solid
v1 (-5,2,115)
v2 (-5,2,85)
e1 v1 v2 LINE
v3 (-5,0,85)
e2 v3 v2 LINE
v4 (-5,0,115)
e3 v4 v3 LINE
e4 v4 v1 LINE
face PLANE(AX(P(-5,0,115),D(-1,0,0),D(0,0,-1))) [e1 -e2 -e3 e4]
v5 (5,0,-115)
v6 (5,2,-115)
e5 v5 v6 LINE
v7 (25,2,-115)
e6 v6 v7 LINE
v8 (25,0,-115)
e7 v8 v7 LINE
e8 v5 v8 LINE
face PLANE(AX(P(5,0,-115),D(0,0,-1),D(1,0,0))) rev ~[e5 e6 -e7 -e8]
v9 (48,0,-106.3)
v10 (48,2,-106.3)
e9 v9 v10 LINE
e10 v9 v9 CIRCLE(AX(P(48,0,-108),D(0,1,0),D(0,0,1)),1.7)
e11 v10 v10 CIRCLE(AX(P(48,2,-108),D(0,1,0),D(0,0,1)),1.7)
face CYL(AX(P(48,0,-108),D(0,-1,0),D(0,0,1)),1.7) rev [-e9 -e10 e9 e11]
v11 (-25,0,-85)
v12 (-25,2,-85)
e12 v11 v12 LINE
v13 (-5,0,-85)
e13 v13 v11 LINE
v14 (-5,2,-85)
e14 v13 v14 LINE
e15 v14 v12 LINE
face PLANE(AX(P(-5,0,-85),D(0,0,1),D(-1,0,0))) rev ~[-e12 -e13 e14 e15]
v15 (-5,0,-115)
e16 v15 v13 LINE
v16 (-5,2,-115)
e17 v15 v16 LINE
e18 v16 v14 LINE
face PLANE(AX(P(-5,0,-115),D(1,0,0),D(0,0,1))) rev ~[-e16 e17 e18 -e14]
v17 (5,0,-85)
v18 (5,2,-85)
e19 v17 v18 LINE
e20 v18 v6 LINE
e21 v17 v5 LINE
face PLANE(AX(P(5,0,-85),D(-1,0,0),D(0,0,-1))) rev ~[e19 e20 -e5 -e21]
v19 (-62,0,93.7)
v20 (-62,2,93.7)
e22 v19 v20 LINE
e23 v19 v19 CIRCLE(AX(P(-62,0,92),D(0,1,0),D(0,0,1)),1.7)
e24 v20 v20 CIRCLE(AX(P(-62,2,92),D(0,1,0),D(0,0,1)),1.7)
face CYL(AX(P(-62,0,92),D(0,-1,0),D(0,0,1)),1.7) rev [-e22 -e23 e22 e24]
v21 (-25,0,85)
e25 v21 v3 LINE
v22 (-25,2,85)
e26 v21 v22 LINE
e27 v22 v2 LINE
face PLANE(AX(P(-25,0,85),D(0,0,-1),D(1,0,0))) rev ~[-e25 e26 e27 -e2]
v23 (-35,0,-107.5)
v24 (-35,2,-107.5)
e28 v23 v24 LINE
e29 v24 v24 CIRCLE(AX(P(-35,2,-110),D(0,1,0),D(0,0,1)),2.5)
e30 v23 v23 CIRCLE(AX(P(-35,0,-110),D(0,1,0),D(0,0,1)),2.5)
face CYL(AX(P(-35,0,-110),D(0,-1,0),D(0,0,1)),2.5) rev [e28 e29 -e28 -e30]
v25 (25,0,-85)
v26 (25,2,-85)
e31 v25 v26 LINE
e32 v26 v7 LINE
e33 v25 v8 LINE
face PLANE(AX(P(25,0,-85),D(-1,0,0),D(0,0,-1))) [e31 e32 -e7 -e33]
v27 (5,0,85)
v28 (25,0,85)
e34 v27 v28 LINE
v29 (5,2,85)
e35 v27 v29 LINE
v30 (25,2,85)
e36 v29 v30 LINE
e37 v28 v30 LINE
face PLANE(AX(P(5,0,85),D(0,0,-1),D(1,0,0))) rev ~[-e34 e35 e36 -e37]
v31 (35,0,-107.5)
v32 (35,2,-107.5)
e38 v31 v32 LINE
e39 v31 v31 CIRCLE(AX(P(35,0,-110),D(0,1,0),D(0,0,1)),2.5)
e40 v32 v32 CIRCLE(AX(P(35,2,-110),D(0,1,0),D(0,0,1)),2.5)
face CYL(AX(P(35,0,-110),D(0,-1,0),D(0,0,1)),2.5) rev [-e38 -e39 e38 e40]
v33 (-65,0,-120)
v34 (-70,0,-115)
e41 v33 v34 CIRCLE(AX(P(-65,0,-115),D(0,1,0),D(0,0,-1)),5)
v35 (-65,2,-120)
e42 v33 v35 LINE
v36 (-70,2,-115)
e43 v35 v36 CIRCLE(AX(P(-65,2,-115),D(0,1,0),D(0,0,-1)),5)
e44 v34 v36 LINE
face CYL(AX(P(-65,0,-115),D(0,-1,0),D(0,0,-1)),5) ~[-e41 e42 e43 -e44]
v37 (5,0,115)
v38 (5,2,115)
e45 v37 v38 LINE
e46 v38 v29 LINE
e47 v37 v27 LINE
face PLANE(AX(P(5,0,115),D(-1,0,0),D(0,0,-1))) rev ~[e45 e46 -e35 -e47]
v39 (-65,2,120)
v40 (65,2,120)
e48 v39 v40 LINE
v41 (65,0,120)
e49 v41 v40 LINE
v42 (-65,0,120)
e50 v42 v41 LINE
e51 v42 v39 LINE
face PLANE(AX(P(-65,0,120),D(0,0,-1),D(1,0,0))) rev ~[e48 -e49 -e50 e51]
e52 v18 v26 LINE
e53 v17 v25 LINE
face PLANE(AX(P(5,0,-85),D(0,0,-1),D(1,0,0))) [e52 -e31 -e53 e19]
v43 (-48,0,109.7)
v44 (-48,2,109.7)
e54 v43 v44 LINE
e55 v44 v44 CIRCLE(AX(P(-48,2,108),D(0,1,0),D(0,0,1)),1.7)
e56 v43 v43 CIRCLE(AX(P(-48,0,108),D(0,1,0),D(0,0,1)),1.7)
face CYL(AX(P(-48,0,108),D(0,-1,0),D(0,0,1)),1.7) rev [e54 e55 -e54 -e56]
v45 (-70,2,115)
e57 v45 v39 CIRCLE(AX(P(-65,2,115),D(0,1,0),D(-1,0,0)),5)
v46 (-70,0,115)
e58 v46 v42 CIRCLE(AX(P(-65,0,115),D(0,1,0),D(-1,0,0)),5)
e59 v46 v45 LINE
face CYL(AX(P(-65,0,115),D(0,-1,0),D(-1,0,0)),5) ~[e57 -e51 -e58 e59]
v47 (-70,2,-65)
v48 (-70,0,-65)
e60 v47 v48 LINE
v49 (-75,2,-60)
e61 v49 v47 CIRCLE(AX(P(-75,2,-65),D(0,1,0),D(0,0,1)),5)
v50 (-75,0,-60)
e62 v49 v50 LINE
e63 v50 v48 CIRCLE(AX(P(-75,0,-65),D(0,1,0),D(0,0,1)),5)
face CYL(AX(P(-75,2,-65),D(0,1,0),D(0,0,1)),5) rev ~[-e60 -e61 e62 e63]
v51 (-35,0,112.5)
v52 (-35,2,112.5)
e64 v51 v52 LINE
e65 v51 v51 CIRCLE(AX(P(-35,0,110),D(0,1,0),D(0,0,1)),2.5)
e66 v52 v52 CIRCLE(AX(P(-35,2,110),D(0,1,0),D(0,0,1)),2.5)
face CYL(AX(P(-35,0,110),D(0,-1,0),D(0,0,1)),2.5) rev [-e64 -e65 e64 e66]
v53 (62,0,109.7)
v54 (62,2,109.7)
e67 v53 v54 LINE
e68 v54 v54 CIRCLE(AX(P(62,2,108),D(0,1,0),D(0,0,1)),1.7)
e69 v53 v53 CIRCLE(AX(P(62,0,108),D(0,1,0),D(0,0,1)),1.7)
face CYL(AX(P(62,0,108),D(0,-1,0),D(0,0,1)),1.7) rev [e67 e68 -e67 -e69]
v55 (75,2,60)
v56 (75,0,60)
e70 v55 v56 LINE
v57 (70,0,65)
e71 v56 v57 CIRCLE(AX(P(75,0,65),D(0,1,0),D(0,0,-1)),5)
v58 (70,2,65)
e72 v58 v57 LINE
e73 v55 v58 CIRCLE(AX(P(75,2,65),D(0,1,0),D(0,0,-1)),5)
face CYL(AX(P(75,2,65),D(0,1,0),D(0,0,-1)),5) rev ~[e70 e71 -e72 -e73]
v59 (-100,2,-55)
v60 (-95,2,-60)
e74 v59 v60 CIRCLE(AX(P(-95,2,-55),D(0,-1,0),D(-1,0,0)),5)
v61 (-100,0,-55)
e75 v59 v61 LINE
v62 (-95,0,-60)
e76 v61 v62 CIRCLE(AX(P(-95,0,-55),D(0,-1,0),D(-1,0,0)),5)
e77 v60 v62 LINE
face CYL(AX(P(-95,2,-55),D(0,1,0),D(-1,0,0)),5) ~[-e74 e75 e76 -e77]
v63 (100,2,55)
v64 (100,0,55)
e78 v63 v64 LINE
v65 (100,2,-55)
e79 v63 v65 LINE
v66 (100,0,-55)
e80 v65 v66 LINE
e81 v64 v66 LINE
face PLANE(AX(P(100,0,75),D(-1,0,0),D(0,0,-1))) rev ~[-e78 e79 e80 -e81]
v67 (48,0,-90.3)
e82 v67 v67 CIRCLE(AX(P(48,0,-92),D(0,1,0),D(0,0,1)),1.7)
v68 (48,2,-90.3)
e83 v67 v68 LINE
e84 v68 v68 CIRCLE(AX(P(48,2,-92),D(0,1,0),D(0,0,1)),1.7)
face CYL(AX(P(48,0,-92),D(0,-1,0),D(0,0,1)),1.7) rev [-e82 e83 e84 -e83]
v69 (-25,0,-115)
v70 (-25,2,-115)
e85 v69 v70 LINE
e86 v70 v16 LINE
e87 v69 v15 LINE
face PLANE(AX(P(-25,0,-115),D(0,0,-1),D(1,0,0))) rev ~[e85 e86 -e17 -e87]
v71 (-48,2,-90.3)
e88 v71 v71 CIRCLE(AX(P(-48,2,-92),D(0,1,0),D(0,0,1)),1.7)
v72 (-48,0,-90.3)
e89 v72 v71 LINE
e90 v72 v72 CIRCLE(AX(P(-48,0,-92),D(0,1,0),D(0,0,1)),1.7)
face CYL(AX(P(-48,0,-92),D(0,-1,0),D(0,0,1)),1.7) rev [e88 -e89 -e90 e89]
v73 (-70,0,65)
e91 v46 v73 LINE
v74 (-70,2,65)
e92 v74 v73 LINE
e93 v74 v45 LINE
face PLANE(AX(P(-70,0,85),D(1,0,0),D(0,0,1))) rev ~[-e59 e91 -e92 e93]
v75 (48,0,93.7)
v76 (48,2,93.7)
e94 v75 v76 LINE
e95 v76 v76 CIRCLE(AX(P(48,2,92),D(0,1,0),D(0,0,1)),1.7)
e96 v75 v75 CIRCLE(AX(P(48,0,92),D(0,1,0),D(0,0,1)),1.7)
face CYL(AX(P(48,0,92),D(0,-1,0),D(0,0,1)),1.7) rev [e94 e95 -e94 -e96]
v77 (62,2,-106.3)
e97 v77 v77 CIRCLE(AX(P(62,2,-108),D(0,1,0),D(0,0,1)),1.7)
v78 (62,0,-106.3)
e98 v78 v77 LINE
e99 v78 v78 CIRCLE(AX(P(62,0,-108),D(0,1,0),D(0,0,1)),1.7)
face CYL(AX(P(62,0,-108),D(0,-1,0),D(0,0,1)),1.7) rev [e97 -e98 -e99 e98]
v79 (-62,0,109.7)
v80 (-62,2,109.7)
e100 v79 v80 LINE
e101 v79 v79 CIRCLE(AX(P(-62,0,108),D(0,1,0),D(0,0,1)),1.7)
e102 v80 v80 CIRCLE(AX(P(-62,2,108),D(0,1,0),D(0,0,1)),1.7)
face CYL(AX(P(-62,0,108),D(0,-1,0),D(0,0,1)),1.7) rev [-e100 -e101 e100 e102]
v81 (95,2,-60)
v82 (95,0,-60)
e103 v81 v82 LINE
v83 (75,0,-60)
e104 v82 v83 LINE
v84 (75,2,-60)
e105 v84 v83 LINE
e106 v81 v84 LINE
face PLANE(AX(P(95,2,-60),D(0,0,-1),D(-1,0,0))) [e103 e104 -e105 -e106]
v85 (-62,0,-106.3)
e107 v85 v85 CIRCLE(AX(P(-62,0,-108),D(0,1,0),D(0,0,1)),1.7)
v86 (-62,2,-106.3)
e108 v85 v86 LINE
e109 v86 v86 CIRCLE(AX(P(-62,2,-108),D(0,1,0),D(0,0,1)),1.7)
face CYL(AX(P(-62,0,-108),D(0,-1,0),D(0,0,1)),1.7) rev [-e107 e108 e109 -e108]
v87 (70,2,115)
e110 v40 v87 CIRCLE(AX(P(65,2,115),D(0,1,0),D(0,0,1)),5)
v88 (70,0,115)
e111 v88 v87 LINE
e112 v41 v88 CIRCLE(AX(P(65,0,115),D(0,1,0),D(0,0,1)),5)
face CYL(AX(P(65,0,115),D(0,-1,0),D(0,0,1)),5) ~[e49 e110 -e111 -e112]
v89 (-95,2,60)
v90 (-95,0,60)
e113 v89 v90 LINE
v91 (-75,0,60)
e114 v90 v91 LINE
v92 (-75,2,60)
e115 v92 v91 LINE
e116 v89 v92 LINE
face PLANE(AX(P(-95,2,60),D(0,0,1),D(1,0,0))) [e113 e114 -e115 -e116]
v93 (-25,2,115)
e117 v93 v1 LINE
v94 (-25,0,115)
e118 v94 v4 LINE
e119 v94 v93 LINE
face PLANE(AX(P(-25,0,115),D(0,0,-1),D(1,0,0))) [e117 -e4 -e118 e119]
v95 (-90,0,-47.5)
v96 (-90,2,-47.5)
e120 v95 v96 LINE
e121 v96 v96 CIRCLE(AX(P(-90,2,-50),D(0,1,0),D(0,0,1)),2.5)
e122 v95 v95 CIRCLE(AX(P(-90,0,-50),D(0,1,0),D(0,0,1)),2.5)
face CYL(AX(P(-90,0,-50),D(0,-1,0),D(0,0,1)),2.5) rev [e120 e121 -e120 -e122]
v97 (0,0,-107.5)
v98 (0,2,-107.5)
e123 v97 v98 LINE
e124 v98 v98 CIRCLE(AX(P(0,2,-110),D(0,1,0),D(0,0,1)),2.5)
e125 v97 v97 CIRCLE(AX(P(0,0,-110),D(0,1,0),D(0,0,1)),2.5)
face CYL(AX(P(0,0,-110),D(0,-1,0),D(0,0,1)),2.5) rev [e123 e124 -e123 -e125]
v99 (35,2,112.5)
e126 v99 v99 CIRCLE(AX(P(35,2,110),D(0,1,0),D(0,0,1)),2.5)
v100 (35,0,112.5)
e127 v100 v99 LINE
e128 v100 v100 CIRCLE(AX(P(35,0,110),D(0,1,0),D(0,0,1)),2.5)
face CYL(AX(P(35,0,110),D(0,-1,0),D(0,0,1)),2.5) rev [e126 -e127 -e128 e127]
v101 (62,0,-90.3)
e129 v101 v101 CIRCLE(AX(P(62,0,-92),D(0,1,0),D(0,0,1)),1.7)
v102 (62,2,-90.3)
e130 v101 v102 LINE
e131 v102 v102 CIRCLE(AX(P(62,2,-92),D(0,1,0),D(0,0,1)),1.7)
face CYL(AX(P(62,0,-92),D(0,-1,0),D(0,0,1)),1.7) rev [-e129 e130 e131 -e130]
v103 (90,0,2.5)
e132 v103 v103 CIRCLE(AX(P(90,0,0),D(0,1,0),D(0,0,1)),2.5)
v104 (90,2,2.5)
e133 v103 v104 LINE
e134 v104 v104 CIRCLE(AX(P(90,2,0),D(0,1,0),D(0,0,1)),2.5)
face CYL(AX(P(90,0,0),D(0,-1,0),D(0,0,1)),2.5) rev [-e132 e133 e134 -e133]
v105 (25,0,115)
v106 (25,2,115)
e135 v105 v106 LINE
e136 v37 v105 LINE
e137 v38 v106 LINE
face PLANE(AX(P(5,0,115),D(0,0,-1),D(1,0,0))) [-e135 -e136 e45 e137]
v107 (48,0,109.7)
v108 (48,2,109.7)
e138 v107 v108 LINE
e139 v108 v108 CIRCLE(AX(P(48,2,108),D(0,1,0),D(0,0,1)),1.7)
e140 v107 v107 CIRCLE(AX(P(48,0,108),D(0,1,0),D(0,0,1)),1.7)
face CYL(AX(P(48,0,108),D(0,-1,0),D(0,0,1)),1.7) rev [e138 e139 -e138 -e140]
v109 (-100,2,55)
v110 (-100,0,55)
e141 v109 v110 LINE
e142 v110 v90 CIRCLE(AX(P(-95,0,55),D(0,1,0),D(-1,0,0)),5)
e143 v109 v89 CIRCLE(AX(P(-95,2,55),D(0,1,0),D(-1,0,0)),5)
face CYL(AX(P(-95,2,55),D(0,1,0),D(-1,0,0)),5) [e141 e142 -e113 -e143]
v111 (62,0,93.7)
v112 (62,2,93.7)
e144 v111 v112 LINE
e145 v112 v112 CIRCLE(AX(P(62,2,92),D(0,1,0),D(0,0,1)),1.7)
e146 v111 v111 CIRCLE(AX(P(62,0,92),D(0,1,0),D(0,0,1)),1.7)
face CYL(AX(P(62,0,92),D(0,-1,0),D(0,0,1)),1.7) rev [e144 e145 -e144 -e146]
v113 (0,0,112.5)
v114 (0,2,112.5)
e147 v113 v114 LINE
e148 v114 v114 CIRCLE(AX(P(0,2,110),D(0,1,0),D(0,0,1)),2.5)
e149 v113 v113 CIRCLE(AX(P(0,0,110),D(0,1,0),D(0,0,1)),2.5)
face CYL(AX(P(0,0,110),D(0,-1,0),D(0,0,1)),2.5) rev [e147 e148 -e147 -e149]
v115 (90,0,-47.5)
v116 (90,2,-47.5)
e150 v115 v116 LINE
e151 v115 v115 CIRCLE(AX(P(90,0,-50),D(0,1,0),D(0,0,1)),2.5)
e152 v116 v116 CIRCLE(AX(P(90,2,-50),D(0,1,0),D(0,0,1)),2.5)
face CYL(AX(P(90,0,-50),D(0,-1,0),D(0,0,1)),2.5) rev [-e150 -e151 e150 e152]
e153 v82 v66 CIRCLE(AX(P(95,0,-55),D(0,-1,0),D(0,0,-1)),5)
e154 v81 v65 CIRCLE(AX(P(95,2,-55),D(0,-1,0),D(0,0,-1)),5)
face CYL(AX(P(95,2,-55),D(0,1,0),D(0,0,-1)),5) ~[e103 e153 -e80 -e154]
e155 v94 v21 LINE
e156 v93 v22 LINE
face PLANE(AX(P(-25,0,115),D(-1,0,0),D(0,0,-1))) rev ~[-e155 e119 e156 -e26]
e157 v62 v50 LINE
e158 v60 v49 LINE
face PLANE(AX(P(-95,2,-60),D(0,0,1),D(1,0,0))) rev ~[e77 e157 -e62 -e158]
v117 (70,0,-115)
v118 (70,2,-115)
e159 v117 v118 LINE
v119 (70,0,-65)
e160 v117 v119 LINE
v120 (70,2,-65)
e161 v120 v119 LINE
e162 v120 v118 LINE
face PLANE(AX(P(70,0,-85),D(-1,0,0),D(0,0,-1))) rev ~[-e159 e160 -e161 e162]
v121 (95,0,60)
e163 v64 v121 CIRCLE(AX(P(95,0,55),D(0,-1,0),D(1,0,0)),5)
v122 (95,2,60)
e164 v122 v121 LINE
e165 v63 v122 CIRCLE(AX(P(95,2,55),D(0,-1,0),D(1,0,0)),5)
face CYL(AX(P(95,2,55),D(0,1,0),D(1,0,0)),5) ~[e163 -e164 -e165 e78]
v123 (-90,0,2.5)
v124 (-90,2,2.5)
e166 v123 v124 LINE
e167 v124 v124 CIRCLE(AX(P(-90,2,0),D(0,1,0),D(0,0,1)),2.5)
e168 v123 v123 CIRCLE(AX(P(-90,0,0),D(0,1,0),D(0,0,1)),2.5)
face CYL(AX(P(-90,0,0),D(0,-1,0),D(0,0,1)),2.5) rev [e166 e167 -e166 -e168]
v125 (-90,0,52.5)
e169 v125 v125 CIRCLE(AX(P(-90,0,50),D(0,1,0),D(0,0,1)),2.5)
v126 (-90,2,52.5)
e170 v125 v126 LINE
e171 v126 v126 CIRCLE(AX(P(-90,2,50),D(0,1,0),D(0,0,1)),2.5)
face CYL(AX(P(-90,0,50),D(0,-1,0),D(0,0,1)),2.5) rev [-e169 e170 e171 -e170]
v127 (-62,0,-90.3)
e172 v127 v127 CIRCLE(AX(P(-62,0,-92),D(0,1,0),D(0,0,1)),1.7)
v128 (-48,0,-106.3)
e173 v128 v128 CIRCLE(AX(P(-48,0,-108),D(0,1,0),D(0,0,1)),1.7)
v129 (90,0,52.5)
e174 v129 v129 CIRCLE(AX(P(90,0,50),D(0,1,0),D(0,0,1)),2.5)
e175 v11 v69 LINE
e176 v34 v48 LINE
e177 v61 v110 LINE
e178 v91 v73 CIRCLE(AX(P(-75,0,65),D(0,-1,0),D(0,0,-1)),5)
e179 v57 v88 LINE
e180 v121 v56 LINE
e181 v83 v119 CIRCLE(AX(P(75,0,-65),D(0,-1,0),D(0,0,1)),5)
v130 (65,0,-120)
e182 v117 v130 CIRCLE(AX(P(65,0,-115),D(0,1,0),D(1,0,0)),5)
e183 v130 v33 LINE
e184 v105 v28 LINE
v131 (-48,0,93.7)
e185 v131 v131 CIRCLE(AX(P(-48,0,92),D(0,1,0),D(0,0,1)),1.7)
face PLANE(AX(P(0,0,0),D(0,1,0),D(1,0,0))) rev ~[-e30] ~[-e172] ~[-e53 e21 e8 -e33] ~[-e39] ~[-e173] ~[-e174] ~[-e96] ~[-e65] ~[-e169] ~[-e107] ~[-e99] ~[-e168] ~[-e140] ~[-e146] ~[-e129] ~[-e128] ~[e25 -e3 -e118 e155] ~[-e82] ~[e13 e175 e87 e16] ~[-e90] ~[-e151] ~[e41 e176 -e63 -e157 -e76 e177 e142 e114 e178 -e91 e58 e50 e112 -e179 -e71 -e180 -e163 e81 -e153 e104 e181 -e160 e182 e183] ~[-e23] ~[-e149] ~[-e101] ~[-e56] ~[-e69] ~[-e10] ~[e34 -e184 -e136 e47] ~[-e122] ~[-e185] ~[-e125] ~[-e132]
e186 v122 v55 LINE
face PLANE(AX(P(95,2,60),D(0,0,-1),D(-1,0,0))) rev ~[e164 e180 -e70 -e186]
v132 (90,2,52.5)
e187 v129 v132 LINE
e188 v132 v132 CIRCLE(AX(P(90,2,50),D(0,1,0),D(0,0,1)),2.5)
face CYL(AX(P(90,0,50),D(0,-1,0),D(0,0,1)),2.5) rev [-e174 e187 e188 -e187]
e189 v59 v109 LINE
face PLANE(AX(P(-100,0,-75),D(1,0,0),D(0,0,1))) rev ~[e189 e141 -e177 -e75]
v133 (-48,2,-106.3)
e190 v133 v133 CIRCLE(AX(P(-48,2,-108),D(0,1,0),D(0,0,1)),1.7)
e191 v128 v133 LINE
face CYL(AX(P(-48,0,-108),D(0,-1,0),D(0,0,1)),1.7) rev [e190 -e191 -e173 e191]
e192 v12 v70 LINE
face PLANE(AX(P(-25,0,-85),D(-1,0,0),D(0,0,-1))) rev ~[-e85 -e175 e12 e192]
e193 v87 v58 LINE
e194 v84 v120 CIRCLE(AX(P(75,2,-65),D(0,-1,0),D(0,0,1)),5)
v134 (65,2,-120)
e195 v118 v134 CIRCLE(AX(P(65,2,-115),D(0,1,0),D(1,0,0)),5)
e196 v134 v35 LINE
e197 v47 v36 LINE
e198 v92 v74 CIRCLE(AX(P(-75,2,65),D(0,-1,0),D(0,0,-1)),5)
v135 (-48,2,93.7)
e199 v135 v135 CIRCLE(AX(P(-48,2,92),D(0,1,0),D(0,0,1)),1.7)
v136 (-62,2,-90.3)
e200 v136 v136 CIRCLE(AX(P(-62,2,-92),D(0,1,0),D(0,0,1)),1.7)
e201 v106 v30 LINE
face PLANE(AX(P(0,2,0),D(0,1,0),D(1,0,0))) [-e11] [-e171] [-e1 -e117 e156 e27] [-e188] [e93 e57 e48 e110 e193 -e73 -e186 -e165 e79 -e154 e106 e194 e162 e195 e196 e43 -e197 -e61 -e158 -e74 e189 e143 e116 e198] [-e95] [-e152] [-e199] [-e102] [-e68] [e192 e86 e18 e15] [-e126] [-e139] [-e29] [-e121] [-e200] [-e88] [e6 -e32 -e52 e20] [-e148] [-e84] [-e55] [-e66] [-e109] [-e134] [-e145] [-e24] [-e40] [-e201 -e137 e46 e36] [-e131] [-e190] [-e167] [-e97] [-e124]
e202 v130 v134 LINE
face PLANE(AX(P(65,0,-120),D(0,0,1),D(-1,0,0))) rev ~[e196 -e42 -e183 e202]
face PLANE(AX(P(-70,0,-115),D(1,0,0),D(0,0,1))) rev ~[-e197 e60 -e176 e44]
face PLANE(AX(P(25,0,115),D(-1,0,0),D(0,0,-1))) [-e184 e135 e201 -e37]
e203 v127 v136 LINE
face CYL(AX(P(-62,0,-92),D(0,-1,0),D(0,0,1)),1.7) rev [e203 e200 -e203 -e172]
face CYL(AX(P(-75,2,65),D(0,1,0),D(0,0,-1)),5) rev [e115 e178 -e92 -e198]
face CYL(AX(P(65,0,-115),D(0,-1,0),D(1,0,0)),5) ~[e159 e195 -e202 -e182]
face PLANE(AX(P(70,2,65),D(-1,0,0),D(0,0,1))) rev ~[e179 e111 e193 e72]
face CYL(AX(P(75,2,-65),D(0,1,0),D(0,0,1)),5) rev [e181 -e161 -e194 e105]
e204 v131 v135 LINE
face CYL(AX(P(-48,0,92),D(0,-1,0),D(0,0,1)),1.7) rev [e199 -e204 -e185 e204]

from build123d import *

# Parameters (mm, degrees)
SKETCH_1_R          = 1.7
SKETCH_1_R_2        = 2.5
SKETCH_1_W          = 20
SKETCH_1_H          = 30
EXTRUDE_6_DEPTH     = 2
SKETCH_2_W          = 30
SKETCH_2_H          = 10
CUT_EXTRUDE_2_DEPTH = 2


with BuildPart() as part:
    # 草图1 → 凸台-拉伸6 (new body)
    with BuildSketch(Plane(origin=(0, 0, 0), x_dir=(1, 0, 0), z_dir=(0, 1, 0))):
        with BuildLine():
            Line((-75, 80), (-95, 80))
            ThreePointArc((-95, 80), (-98.535533906, 78.535533906), (-100, 75))
            Line((-100, 75), (-100, -75))
            ThreePointArc((-100, -75), (-98.535533906, -78.535533906), (-95, -80))
            Line((-95, -80), (-75, -80))
            ThreePointArc((-75, -80), (-71.464466094, -81.464466094), (-70, -85))
            Line((-70, -85), (-70, -115))
            ThreePointArc((-70, -115), (-68.535533906, -118.535533906), (-65, -120))
            Line((-65, -120), (65, -120))
            ThreePointArc((65, -120), (68.535533906, -118.535533906), (70, -115))
            Line((70, -115), (70, -85))
            ThreePointArc((70, -85), (71.464466094, -81.464466094), (75, -80))
            Line((75, -80), (95, -80))
            ThreePointArc((95, -80), (98.535533906, -78.535533906), (100, -75))
            Line((100, -75), (100, 75))
            ThreePointArc((100, 75), (98.535533906, 78.535533906), (95, 80))
            Line((95, 80), (75, 80))
            ThreePointArc((75, 80), (71.464466094, 81.464466094), (70, 85))
            Line((70, 85), (70, 115))
            ThreePointArc((70, 115), (68.535533906, 118.535533906), (65, 120))
            Line((65, 120), (-65, 120))
            ThreePointArc((-65, 120), (-68.535533906, 118.535533906), (-70, 115))
            Line((-70, 115), (-70, 85))
            ThreePointArc((-70, 85), (-71.464466094, 81.464466094), (-75, 80))
        make_face()
        with Locations(Location((-62, -108, 0), (0, 0, 270))):
            Circle(SKETCH_1_R, mode=Mode.SUBTRACT)
        with Locations(Location((-48, -108, 0), (0, 0, 270))):
            Circle(SKETCH_1_R, mode=Mode.SUBTRACT)
        with Locations(Location((-62, -92, 0), (0, 0, 270))):
            Circle(SKETCH_1_R, mode=Mode.SUBTRACT)
        with Locations(Location((-48, -92, 0), (0, 0, 270))):
            Circle(SKETCH_1_R, mode=Mode.SUBTRACT)
        with Locations(Location((-35, -110, 0), (0, 0, 270))):
            Circle(SKETCH_1_R_2, mode=Mode.SUBTRACT)
        with Locations((-15, -100)):
            Rectangle(SKETCH_1_W, SKETCH_1_H, mode=Mode.SUBTRACT)
        with Locations(Location((-90, -50, 0), (0, 0, 270))):
            Circle(SKETCH_1_R_2, mode=Mode.SUBTRACT)
        with Locations(Location((0, -110, 0), (0, 0, 270))):
            Circle(SKETCH_1_R_2, mode=Mode.SUBTRACT)
        with Locations((15, -100)):
            Rectangle(SKETCH_1_W, SKETCH_1_H, mode=Mode.SUBTRACT)
        with Locations(Location((35, -110, 0), (0, 0, 270))):
            Circle(SKETCH_1_R_2, mode=Mode.SUBTRACT)
        with Locations(Location((48, -108, 0), (0, 0, 270))):
            Circle(SKETCH_1_R, mode=Mode.SUBTRACT)
        with Locations(Location((62, -108, 0), (0, 0, 270))):
            Circle(SKETCH_1_R, mode=Mode.SUBTRACT)
        with Locations(Location((48, -92, 0), (0, 0, 270))):
            Circle(SKETCH_1_R, mode=Mode.SUBTRACT)
        with Locations(Location((62, -92, 0), (0, 0, 270))):
            Circle(SKETCH_1_R, mode=Mode.SUBTRACT)
        with Locations(Location((90, -50, 0), (0, 0, 270))):
            Circle(SKETCH_1_R_2, mode=Mode.SUBTRACT)
        with Locations(Location((-90, 0, 0), (0, 0, 270))):
            Circle(SKETCH_1_R_2, mode=Mode.SUBTRACT)
        with Locations(Location((-90, 50, 0), (0, 0, 270))):
            Circle(SKETCH_1_R_2, mode=Mode.SUBTRACT)
        with Locations(Location((-62, 92, 0), (0, 0, 270))):
            Circle(SKETCH_1_R, mode=Mode.SUBTRACT)
        with Locations(Location((-62, 108, 0), (0, 0, 270))):
            Circle(SKETCH_1_R, mode=Mode.SUBTRACT)
        with Locations(Location((-48, 108, 0), (0, 0, 270))):
            Circle(SKETCH_1_R, mode=Mode.SUBTRACT)
        with Locations(Location((-48, 92, 0), (0, 0, 270))):
            Circle(SKETCH_1_R, mode=Mode.SUBTRACT)
        with Locations(Location((-35, 110, 0), (0, 0, 270))):
            Circle(SKETCH_1_R_2, mode=Mode.SUBTRACT)
        Polygon((-5, 115), (-5, 100), (-5, 85), (-25, 85), (-25, 115), align=None, mode=Mode.SUBTRACT)
        with Locations(Location((90, 0, 0), (0, 0, 270))):
            Circle(SKETCH_1_R_2, mode=Mode.SUBTRACT)
        with Locations(Location((90, 50, 0), (0, 0, 270))):
            Circle(SKETCH_1_R_2, mode=Mode.SUBTRACT)
        with Locations((15, 100)):
            Rectangle(SKETCH_1_W, SKETCH_1_H, mode=Mode.SUBTRACT)
        with Locations(Location((0, 110, 0), (0, 0, 270))):
            Circle(SKETCH_1_R_2, mode=Mode.SUBTRACT)
        with Locations(Location((35, 110, 0), (0, 0, 270))):
            Circle(SKETCH_1_R_2, mode=Mode.SUBTRACT)
        with Locations(Location((48, 92, 0), (0, 0, 270))):
            Circle(SKETCH_1_R, mode=Mode.SUBTRACT)
        with Locations(Location((62, 92, 0), (0, 0, 270))):
            Circle(SKETCH_1_R, mode=Mode.SUBTRACT)
        with Locations(Location((48, 108, 0), (0, 0, 270))):
            Circle(SKETCH_1_R, mode=Mode.SUBTRACT)
        with Locations(Location((62, 108, 0), (0, 0, 270))):
            Circle(SKETCH_1_R, mode=Mode.SUBTRACT)
    extrude(amount=EXTRUDE_6_DEPTH)

    # 草图2 → 切除-拉伸2 (cut)
    with BuildSketch(Plane(origin=(0, 2, 0), x_dir=(1, 0, 0), z_dir=(0, 1, 0))):
        with BuildLine():
            Line((-70, 75), (-100, 75))
            Line((-100, 75), (-100, 60))
            Line((-100, 60), (-95, 60))
            Line((-95, 60), (-75, 60))
            ThreePointArc((-75, 60), (-71.464466094, 61.464466094), (-70, 65))
            Line((-70, 65), (-70, 75))
        make_face()
        with BuildLine():
            Line((-100, 60), (-100, 55))
            ThreePointArc((-100, 55), (-98.535533906, 58.535533906), (-95, 60))
            Line((-95, 60), (-100, 60))
        make_face()
        with Locations((-85, 80)):
            Rectangle(SKETCH_2_W, SKETCH_2_H)
        with BuildLine():
            Line((100, 55), (100, 60))
            Line((100, 60), (95, 60))
            ThreePointArc((95, 60), (98.535533906, 58.535533906), (100, 55))
        make_face()
        with BuildLine():
            ThreePointArc((75, 60), (71.464466094, 61.464466094), (70, 65))
            Line((70, 65), (70, 75))
            Line((70, 75), (100, 75))
            Line((100, 75), (100, 60))
            Line((100, 60), (75, 60))
        make_face()
        with Locations((85, 80)):
            Rectangle(SKETCH_2_W, SKETCH_2_H)
        with BuildLine():
            ThreePointArc((100, -55), (98.535533906, -58.535533906), (95, -60))
            Line((95, -60), (75, -60))
            ThreePointArc((75, -60), (71.464466094, -61.464466094), (70, -65))
            Line((70, -65), (70, -75))
            Line((70, -75), (100, -75))
            Line((100, -75), (100, -60))
            Line((100, -60), (100, -55))
        make_face()
        with Locations((85, -80)):
            Rectangle(SKETCH_2_W, SKETCH_2_H)
        with Locations((-85, -80)):
            Rectangle(SKETCH_2_W, SKETCH_2_H)
        with BuildLine():
            ThreePointArc((-100, -55), (-98.535533906, -58.535533906), (-95, -60))
            Line((-95, -60), (-75, -60))
            ThreePointArc((-75, -60), (-71.464466094, -61.464466094), (-70, -65))
            Line((-70, -65), (-70, -75))
            Line((-70, -75), (-100, -75))
            Line((-100, -75), (-100, -60))
            Line((-100, -60), (-100, -55))
        make_face()
    extrude(amount=-CUT_EXTRUDE_2_DEPTH, mode=Mode.SUBTRACT)


solid = part.part
